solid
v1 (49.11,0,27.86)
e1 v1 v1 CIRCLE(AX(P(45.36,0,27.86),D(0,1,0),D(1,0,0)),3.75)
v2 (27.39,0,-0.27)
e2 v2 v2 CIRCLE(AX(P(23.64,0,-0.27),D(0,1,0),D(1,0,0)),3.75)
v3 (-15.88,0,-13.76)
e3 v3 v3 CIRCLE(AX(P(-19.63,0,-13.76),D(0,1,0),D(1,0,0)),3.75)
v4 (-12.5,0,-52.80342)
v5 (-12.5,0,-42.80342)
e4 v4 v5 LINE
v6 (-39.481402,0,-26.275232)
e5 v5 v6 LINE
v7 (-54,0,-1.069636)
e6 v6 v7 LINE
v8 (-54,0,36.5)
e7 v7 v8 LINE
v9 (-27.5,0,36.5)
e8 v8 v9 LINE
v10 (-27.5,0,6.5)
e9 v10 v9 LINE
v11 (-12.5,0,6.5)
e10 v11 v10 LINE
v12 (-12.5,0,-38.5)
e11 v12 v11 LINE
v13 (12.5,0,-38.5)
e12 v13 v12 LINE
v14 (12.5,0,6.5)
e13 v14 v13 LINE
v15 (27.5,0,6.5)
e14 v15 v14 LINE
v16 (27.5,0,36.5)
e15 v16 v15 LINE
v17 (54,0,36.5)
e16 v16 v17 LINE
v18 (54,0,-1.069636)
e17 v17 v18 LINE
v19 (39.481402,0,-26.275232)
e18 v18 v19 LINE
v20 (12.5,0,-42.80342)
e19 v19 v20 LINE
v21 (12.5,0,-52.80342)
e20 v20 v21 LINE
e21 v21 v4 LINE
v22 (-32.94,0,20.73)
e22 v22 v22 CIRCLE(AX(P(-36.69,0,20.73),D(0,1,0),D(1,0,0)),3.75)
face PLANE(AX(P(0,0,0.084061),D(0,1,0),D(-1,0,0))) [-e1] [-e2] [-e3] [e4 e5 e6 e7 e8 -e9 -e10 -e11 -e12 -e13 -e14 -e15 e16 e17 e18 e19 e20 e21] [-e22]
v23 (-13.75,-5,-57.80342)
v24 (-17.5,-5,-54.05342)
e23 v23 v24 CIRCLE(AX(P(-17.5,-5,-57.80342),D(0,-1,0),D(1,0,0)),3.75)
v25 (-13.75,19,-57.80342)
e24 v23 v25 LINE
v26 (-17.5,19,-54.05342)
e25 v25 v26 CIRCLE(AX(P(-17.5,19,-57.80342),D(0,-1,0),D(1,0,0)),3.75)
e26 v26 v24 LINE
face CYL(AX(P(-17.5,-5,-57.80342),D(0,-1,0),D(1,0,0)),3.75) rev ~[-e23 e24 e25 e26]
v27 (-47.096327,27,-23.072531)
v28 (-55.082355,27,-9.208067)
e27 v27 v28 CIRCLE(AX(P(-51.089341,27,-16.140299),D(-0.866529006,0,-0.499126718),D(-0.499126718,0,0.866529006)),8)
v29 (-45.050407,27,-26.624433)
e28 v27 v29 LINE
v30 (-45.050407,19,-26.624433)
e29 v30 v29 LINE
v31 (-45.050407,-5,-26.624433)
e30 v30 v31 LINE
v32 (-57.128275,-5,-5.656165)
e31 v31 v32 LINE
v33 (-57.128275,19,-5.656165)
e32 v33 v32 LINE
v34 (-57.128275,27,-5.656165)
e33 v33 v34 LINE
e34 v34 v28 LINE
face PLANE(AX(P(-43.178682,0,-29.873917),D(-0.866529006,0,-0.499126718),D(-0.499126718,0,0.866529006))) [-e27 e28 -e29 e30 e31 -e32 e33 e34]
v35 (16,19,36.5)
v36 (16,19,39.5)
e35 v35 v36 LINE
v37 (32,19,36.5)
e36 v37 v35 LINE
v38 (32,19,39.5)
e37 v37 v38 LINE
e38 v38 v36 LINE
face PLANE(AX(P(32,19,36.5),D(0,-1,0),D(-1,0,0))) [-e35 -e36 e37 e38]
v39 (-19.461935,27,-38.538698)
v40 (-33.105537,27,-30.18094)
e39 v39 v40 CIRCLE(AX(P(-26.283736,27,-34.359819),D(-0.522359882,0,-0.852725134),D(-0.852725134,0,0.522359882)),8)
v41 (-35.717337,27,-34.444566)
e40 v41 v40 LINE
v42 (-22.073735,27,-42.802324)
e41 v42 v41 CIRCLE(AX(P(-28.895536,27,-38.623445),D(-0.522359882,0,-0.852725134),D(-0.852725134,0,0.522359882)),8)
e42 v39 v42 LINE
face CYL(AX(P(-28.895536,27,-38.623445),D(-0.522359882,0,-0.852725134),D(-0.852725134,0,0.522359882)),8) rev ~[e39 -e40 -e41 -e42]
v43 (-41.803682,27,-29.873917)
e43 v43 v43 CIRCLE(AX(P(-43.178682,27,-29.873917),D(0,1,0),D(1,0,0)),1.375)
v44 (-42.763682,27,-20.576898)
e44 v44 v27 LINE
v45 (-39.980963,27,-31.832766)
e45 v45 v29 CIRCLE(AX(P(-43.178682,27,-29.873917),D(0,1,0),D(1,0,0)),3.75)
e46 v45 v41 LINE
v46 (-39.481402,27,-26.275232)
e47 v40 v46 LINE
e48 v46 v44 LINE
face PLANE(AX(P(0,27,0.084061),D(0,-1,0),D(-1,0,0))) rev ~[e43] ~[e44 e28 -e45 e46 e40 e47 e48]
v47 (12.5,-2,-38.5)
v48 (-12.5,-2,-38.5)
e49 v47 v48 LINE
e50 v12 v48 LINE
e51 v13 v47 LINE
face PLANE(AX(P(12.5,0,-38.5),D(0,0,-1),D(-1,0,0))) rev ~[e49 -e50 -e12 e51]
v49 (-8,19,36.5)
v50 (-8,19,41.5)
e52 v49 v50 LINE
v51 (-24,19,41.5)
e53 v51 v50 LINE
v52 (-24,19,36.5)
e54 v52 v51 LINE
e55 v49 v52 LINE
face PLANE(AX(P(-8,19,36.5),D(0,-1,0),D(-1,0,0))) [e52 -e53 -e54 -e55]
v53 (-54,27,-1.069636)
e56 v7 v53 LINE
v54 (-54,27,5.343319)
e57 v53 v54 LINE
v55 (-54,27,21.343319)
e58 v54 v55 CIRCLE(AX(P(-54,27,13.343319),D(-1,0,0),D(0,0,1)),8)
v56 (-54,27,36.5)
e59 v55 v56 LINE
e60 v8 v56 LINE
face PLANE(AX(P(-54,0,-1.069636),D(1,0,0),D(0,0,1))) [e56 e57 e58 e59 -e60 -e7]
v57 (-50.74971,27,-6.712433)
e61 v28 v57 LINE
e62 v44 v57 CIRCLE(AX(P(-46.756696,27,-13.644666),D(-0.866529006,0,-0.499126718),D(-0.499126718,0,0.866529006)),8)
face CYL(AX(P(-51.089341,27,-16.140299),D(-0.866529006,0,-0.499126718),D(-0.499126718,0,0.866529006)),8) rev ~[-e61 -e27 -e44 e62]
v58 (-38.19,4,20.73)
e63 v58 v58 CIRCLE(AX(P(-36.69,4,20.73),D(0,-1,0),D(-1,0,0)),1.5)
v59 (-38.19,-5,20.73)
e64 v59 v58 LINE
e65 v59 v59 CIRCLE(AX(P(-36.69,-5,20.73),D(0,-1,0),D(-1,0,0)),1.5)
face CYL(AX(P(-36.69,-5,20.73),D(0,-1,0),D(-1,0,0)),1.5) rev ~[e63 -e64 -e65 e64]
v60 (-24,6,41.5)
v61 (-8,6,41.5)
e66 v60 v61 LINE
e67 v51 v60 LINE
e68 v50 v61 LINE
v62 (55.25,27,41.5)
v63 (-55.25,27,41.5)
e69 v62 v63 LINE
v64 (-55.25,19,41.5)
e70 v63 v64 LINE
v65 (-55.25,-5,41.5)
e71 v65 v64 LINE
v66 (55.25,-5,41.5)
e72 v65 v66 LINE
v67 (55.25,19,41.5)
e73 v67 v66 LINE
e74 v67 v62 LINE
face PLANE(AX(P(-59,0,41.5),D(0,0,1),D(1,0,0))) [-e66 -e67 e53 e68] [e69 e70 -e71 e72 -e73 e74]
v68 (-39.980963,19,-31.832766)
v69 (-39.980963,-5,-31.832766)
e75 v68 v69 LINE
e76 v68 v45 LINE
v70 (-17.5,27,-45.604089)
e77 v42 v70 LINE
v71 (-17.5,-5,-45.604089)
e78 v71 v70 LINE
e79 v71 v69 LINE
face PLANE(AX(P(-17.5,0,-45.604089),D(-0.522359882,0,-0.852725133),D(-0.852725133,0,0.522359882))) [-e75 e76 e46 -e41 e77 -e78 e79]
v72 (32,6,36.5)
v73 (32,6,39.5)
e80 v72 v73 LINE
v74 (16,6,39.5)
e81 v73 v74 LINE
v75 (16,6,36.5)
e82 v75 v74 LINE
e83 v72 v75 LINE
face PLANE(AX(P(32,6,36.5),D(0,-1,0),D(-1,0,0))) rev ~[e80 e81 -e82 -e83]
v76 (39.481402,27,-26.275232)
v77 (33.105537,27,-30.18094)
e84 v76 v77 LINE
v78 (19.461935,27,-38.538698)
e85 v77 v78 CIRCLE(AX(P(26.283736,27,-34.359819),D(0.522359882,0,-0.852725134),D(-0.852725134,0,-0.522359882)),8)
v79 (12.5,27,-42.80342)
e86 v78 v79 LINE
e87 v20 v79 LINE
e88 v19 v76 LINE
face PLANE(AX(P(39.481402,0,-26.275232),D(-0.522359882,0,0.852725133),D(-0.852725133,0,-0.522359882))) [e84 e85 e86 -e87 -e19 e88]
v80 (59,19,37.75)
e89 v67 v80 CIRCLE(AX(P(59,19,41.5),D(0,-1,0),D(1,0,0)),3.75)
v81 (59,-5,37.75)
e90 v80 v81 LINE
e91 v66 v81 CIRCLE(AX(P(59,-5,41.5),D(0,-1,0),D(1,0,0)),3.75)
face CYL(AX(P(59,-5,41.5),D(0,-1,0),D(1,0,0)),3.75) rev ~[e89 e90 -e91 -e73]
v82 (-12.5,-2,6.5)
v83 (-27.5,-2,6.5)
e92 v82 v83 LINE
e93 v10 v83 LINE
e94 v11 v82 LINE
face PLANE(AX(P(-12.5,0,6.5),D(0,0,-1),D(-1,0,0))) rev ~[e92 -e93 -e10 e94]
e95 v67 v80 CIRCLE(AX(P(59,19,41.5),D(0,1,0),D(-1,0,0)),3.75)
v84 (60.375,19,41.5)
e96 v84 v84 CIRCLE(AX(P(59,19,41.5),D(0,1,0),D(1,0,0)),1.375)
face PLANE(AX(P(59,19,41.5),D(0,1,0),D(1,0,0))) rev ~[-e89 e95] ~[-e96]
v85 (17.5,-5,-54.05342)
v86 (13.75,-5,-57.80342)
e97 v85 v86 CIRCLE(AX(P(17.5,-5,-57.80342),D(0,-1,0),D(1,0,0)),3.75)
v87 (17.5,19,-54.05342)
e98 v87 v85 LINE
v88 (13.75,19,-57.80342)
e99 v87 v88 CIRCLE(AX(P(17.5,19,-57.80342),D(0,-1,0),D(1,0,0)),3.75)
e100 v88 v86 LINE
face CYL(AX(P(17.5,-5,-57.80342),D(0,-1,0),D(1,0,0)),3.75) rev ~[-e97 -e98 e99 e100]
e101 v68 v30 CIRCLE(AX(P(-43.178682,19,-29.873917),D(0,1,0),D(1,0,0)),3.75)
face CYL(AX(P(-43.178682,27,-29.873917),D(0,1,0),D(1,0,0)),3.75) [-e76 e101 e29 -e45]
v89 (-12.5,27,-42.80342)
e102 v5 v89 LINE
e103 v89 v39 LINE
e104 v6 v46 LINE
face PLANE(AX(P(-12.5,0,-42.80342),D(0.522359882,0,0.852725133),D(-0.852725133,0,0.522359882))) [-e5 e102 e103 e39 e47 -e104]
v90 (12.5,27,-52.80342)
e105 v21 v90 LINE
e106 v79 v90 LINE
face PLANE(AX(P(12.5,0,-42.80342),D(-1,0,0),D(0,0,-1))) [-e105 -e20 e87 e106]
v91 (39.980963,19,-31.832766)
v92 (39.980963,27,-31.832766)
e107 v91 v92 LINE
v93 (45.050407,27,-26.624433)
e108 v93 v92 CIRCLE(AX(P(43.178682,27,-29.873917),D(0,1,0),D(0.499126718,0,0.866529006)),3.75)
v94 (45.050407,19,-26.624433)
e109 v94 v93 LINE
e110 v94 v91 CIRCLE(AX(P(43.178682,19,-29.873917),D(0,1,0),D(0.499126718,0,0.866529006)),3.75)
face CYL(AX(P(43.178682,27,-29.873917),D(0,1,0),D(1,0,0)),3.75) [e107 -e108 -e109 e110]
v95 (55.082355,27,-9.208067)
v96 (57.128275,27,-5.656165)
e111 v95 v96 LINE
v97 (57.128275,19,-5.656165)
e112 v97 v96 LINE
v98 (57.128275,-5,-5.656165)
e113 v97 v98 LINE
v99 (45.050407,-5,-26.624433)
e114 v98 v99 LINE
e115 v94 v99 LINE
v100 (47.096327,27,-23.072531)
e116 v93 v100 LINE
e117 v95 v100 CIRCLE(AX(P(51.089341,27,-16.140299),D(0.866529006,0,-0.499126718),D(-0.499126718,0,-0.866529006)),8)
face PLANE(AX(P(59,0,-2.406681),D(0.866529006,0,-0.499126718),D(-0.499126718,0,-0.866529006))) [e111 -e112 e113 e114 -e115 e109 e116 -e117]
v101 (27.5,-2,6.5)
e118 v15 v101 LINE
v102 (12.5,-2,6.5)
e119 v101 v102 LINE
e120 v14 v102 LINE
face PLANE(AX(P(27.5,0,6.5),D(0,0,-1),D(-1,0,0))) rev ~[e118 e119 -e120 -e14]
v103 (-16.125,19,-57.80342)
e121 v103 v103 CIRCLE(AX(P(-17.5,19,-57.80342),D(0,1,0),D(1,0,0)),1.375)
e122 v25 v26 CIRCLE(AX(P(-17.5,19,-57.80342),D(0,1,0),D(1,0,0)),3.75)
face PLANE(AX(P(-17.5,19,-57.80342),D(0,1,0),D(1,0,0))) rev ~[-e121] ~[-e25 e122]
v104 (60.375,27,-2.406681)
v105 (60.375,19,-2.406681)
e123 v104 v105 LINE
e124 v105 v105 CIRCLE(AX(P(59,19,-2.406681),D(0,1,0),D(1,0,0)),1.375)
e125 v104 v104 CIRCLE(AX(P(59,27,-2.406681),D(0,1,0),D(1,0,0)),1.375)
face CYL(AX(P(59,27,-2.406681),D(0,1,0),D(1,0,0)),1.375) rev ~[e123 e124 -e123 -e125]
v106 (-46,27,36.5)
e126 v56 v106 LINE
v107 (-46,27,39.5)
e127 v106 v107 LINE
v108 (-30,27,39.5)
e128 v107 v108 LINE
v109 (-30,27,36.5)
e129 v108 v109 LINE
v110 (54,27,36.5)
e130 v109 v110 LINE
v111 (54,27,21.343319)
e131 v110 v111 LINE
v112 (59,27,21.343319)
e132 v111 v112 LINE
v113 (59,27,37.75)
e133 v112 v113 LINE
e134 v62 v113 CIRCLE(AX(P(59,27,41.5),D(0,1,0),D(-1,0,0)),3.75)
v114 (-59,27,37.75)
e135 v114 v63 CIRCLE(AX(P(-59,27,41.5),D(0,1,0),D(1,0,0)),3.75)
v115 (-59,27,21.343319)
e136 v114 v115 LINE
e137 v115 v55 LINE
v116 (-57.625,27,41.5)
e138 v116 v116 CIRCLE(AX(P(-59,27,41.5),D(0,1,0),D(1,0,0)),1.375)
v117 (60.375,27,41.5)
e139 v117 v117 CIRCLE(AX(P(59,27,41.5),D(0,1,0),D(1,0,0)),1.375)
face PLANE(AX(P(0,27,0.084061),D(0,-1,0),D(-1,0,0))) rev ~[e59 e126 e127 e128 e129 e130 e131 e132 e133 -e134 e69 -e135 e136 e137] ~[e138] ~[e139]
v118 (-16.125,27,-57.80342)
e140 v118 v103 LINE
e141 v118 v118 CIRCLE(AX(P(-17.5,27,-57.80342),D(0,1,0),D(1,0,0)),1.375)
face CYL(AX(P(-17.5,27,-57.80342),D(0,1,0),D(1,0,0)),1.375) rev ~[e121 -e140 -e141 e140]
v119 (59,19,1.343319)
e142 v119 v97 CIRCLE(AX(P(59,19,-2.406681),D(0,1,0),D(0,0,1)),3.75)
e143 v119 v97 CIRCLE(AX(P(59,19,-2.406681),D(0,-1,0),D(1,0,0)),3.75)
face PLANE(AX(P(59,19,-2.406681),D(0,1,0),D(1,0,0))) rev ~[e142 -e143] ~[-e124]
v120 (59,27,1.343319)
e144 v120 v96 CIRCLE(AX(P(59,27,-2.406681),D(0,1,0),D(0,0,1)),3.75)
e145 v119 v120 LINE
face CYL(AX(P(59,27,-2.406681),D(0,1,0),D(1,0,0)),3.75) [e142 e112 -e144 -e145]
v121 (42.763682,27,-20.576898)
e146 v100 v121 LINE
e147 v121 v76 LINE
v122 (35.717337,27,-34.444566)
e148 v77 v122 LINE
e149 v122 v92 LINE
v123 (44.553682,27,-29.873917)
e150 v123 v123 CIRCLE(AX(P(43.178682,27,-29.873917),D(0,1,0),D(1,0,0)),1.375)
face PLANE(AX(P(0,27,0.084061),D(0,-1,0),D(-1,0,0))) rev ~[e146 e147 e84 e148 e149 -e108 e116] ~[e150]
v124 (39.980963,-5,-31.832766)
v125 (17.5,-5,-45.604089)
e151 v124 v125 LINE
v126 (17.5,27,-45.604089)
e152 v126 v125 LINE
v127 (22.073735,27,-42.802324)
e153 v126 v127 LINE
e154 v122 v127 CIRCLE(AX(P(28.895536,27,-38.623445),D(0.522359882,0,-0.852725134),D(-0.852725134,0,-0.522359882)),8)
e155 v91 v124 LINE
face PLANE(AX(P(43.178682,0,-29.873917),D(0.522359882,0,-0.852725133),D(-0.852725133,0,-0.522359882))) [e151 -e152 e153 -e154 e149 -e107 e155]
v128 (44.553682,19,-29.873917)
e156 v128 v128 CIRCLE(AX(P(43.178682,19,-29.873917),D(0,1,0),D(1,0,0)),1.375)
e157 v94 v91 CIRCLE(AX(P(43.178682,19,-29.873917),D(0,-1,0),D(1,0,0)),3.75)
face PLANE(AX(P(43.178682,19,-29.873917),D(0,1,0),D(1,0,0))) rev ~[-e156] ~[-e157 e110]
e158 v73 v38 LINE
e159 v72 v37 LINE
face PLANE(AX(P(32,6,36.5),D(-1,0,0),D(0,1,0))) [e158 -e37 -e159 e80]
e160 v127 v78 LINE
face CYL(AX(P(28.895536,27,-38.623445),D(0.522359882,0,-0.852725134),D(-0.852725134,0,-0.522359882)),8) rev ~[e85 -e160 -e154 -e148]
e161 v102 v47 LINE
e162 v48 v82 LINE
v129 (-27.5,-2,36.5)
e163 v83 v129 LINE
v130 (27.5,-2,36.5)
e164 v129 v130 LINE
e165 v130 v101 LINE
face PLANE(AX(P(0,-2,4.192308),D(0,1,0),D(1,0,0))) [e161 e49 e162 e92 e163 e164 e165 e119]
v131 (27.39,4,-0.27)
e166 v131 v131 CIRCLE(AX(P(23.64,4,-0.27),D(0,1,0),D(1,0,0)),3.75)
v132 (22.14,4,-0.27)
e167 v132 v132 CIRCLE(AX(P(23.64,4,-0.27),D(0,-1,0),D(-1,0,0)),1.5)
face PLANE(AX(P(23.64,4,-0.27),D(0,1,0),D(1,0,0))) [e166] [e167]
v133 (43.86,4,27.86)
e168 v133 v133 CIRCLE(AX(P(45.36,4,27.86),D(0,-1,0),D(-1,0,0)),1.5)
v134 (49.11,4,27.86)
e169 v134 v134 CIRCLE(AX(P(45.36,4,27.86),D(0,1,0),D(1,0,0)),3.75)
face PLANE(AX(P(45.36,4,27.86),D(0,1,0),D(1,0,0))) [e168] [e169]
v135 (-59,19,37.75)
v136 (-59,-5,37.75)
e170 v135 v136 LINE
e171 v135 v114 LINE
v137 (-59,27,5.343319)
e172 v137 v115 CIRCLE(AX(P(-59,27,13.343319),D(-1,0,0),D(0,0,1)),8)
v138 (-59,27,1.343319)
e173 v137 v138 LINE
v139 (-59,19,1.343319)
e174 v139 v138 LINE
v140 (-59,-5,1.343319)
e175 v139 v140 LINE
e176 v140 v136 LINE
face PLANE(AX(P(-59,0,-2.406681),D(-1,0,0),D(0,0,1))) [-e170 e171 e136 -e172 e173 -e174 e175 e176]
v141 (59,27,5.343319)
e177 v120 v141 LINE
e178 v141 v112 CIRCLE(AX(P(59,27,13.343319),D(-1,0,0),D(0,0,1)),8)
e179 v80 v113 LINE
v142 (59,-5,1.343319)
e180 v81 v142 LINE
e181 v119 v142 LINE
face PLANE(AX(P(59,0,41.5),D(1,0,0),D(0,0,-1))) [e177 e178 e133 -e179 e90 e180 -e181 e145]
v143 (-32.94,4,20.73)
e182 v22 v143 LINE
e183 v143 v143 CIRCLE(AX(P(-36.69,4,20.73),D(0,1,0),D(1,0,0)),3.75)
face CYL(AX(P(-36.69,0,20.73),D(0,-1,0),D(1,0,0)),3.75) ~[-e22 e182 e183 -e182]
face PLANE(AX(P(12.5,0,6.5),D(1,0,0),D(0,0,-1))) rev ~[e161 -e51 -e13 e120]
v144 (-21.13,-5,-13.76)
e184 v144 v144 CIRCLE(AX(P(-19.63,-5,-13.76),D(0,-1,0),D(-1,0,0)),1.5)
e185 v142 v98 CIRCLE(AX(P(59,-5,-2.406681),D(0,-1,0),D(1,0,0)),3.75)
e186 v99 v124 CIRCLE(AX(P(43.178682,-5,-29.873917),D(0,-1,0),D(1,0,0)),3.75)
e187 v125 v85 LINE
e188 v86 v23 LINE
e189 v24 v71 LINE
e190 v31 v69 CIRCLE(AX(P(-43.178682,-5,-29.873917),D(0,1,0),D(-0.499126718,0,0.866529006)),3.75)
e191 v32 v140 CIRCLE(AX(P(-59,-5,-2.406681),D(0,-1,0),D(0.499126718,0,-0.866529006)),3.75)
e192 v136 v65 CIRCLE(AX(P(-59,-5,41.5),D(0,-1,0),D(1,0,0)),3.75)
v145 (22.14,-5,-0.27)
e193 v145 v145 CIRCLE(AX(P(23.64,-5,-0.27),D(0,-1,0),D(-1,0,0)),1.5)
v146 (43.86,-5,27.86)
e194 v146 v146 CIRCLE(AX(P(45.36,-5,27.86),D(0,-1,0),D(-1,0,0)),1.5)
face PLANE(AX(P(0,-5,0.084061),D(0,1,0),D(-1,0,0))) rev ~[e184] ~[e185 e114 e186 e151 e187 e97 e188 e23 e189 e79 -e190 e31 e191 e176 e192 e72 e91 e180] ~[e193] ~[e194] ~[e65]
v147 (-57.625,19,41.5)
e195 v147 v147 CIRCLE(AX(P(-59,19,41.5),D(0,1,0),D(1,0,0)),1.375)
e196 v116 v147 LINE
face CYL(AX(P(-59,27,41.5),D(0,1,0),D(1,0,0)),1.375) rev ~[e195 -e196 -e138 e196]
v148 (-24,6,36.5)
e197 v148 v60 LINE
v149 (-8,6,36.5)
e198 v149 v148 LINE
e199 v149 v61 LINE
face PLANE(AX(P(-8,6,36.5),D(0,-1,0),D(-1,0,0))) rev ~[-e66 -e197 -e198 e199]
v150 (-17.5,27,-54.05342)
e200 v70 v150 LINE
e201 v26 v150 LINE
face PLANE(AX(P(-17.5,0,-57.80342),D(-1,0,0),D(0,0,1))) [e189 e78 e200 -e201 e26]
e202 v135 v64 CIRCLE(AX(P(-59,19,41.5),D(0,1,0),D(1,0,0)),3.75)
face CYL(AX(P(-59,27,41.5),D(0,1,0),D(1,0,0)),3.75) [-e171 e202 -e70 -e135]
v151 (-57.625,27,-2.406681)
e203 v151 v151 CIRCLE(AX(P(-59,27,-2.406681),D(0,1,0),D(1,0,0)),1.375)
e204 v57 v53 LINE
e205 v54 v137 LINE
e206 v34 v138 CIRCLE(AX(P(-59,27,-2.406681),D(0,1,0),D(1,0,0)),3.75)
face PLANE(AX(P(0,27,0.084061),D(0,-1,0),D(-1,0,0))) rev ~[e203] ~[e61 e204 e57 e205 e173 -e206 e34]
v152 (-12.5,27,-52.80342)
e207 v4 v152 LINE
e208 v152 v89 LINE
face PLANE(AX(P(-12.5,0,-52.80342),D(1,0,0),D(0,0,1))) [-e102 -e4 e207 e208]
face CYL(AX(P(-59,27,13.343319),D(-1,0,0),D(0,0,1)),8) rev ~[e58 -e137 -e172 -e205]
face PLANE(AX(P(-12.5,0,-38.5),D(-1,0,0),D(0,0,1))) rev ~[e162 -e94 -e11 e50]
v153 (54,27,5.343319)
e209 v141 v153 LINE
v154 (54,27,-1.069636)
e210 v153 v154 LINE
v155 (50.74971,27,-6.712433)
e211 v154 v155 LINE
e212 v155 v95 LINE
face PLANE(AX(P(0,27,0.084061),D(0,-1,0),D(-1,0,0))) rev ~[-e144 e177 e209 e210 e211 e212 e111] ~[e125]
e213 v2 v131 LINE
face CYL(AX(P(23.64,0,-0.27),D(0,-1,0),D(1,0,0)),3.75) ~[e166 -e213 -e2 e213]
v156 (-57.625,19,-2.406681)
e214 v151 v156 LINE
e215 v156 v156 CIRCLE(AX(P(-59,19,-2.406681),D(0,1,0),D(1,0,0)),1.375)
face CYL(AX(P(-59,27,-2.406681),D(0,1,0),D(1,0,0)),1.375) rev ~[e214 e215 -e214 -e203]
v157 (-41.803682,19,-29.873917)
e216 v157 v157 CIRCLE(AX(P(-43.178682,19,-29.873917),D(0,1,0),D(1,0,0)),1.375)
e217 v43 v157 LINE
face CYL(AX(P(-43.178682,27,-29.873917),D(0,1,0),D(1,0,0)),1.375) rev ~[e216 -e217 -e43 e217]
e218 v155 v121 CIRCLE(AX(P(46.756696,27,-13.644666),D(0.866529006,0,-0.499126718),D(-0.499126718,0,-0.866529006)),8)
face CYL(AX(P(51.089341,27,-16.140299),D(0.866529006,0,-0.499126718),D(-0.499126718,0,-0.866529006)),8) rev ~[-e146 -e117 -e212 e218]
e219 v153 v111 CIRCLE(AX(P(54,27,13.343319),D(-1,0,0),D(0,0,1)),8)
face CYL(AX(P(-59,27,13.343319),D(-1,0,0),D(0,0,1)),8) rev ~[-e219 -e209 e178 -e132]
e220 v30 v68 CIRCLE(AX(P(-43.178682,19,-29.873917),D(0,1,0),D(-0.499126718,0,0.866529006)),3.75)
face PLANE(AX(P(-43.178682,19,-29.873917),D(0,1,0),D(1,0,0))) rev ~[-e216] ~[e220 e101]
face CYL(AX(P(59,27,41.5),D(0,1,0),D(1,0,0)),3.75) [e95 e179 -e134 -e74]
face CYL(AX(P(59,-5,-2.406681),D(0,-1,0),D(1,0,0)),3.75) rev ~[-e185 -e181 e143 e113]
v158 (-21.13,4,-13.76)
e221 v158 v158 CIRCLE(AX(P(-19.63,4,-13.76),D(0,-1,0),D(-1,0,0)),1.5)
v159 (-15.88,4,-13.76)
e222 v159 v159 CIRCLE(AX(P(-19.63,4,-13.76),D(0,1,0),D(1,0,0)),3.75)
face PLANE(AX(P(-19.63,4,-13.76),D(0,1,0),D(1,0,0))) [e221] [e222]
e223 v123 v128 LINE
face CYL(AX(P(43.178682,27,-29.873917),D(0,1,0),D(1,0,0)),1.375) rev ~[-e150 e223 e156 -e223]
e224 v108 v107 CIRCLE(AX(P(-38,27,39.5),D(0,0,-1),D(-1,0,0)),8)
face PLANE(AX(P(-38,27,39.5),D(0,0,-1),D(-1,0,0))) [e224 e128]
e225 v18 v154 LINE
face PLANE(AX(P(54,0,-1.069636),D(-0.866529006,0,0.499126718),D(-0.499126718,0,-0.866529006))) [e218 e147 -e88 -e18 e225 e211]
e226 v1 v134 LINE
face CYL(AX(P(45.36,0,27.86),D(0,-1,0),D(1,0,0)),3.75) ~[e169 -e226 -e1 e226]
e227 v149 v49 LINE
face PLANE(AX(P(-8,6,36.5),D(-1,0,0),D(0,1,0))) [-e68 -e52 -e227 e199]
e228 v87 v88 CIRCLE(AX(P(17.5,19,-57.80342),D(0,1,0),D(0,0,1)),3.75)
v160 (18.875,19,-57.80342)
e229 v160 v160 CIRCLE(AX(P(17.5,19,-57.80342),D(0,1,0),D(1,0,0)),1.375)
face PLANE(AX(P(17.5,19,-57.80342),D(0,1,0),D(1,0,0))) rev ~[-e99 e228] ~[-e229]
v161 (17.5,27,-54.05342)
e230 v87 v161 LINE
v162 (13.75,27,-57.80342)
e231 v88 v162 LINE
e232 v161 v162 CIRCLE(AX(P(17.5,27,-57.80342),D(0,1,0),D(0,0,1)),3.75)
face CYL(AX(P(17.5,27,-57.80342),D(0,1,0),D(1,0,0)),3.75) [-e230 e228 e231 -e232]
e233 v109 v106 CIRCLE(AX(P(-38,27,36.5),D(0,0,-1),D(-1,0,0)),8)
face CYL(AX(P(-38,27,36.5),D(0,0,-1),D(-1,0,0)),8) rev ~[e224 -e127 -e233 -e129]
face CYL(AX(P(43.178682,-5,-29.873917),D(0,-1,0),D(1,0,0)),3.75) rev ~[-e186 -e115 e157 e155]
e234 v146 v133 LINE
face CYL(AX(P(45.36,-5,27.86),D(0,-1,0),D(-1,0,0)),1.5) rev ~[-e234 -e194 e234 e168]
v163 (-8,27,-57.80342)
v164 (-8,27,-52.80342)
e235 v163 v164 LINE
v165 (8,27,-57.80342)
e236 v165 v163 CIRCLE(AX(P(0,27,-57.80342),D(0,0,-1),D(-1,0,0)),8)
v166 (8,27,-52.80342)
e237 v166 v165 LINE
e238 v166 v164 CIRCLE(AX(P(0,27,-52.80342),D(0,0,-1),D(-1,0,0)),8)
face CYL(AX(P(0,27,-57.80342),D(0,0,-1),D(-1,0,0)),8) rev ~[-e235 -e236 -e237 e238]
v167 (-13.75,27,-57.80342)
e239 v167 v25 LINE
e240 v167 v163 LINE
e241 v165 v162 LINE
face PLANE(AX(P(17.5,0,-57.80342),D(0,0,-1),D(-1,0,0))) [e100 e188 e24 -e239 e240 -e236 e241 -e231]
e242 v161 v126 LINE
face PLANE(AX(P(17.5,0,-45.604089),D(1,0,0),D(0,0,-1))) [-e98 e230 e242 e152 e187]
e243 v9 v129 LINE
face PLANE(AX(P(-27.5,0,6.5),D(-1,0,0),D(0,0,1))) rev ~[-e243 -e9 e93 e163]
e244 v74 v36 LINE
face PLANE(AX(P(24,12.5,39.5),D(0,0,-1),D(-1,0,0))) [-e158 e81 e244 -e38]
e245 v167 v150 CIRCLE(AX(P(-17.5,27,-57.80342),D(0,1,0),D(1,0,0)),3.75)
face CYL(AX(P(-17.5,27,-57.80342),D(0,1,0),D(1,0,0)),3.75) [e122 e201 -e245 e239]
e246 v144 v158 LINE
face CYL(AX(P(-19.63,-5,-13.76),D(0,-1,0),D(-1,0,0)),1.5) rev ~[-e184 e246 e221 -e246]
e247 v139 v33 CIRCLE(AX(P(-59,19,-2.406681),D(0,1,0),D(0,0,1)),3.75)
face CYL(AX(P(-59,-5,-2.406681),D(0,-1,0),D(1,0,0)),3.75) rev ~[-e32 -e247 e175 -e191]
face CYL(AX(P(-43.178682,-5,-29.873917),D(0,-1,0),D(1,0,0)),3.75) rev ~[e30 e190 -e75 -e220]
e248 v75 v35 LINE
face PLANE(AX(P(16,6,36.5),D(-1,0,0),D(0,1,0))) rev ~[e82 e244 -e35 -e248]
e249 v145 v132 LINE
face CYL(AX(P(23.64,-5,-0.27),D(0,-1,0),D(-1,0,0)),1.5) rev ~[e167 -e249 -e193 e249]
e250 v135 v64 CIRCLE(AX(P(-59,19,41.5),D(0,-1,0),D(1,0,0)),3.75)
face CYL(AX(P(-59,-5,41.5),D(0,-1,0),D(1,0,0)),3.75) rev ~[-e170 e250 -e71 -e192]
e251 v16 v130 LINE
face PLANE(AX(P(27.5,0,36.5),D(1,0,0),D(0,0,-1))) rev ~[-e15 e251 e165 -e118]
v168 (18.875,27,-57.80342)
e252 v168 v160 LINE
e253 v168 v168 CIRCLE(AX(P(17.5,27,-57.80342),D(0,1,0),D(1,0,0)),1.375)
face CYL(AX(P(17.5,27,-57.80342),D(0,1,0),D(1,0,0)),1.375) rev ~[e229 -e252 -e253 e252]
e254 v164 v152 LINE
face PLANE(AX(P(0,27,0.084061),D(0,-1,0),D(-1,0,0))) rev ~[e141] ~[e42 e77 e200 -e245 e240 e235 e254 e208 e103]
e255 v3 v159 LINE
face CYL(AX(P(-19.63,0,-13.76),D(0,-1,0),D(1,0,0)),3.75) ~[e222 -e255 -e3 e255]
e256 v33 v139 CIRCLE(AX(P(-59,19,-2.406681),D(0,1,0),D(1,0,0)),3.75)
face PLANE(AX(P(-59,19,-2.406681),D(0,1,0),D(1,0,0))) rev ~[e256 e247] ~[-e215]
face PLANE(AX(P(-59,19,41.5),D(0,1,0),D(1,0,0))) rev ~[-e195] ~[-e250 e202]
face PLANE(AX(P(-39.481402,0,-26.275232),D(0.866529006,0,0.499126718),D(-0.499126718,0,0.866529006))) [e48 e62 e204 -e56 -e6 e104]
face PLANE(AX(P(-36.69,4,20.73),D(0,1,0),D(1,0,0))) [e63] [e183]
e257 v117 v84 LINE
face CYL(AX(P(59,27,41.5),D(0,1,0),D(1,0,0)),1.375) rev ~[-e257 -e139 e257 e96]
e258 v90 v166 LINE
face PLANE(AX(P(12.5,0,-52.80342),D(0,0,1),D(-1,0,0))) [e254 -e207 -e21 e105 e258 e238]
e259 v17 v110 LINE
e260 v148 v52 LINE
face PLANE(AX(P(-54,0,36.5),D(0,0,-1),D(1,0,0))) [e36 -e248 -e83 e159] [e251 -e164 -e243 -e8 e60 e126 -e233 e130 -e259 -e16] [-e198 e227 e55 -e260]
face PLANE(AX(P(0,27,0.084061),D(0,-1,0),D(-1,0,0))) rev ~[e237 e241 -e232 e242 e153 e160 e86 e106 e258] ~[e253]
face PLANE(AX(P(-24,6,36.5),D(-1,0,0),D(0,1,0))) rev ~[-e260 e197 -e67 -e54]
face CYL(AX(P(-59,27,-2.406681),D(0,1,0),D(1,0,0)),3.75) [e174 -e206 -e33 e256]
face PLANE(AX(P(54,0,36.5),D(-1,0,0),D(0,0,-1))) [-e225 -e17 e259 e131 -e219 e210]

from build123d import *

# Parameters (mm, degrees)
BOSS_EXTRUDE2_DEPTH = 27
BOSS_EXTRUDE3_DEPTH = 5
SKETCH6_R           = 3.75
BOSS_EXTRUDE8_DEPTH = 4
SKETCH3_R           = 1.5
CUT_EXTRUDE2_DEPTH  = 33
SKETCH7_R           = 3.75
BOSS_EXTRUDE9_DEPTH = 8
SKETCH8_R           = 3.75
CUT_EXTRUDE4_DEPTH  = 24
SKETCH9_R           = 1.375
CUT_EXTRUDE5_DEPTH  = 33
CUT_EXTRUDE6_DEPTH  = 2
SKETCH13_R          = 8
CUT_EXTRUDE8_DEPTH  = 122.75
CUT_EXTRUDE9_REACH  = 131.287
SKETCH14_R          = 8
CUT_EXTRUDE11_REACH = 105.053
SKETCH16_R          = 8
CUT_EXTRUDE12_REACH = 131.287
SKETCH17_R          = 8
CUT_EXTRUDE13_REACH = 121.393
SKETCH19_R          = 8
CUT_EXTRUDE14_REACH = 121.393
SKETCH20_R          = 8
SKETCH21_R          = 8
SKETCH21_W          = 16
SKETCH21_H          = 13
CUT_EXTRUDE15_DEPTH = 3
SKETCH22_W          = 16
SKETCH22_H          = 13
CUT_EXTRUDE16_DEPTH = 9.75


with BuildPart() as part:
    # Sketch1 → Boss-Extrude2 (new body)
    with BuildSketch(Plane(origin=(0, 0, 0), x_dir=(1, 0, 0), z_dir=(0, 1, 0))):
        Polygon((-43.178681761, 29.873916914), (-17.5, 45.604089113), (-17.5, 57.803420417), (17.5, 57.803420417), (17.5, 45.604089113), (43.178681761, 29.873916914), (59, 2.406681305), (59, -41.5), (-59, -41.5), (-59, 2.406681305), align=None)
        Polygon((39.481402229, 26.275231503), (12.5, 42.803420417), (12.5, 52.803420417), (-12.5, 52.803420417), (-12.5, 42.803420417), (-39.481402229, 26.275231503), (-54, 1.069636136), (-54, -36.5), (54, -36.5), (54, 1.069636136), align=None, mode=Mode.SUBTRACT)
    extrude(amount=BOSS_EXTRUDE2_DEPTH)

    # Sketch2 → Boss-Extrude3 (add)
    with BuildSketch(Plane.XZ):
        Polygon((17.5, -57.803420417), (-17.5, -57.803420417), (-17.5, -45.604089113), (-43.178681761, -29.873916914), (-59, -2.406681305), (-59, 41.5), (59, 41.5), (59, -2.406681305), (43.178681761, -29.873916914), (17.5, -45.604089113), align=None)
    extrude(amount=BOSS_EXTRUDE3_DEPTH)

    # Sketch6 → Boss-Extrude8 (add)
    with BuildSketch(Plane(origin=(0, 0, 0), x_dir=(1, 0, 0), z_dir=(0, 1, 0))):
        with Locations((-19.63, 13.76)):
            Circle(SKETCH6_R)
        with Locations((-36.69, -20.73)):
            Circle(SKETCH6_R)
        with Locations((23.64, 0.27)):
            Circle(SKETCH6_R)
        with Locations((45.36, -27.86)):
            Circle(SKETCH6_R)
    extrude(amount=BOSS_EXTRUDE8_DEPTH)

    # Sketch3 → Cut-Extrude2 (cut, through all)
    with BuildSketch(Plane(origin=(0, -5, 0), x_dir=(-1, 0, 0), z_dir=(0, -1, 0))):
        with Locations((-45.36, -27.86)):
            Circle(SKETCH3_R)
        with Locations((-23.64, 0.27)):
            Circle(SKETCH3_R)
        with Locations((19.63, 13.76)):
            Circle(SKETCH3_R)
        with Locations((36.69, -20.73)):
            Circle(SKETCH3_R)
    extrude(amount=-CUT_EXTRUDE2_DEPTH, mode=Mode.SUBTRACT)

    # Sketch7 → Boss-Extrude9 (add)
    with BuildSketch(Plane(origin=(0, 27, 0), x_dir=(1, 0, 0), z_dir=(0, 1, 0))):
        with Locations((-59, -41.5)):
            Circle(SKETCH7_R)
        with Locations((-59, 2.406681305)):
            Circle(SKETCH7_R)
        with Locations((-43.178681761, 29.873916914)):
            Circle(SKETCH7_R)
        with Locations((-17.5, 57.803420417)):
            Circle(SKETCH7_R)
        with Locations((17.5, 57.803420417)):
            Circle(SKETCH7_R)
        with Locations((43.178681761, 29.873916914)):
            Circle(SKETCH7_R)
        with Locations((59, 2.406681305)):
            Circle(SKETCH7_R)
        with Locations((59, -41.5)):
            Circle(SKETCH7_R)
    extrude(amount=-BOSS_EXTRUDE9_DEPTH)

    # Sketch8 → Cut-Extrude4 (cut)
    with BuildSketch(Plane.XZ.offset(5)):
        with Locations((59, 41.5)):
            Circle(SKETCH8_R)
        with Locations((59, -2.406681305)):
            Circle(SKETCH8_R)
        with Locations((43.178681761, -29.873916914)):
            Circle(SKETCH8_R)
        with Locations((17.5, -57.803420417)):
            Circle(SKETCH8_R)
        with Locations((-17.5, -57.803420417)):
            Circle(SKETCH8_R)
        with Locations((-43.178681761, -29.873916914)):
            Circle(SKETCH8_R)
        with Locations((-59, -2.406681305)):
            Circle(SKETCH8_R)
        with Locations((-59, 41.5)):
            Circle(SKETCH8_R)
    extrude(amount=-CUT_EXTRUDE4_DEPTH, mode=Mode.SUBTRACT)

    # Sketch9 → Cut-Extrude5 (cut, through all)
    with BuildSketch(Plane(origin=(0, 27, 0), x_dir=(1, 0, 0), z_dir=(0, 1, 0))):
        with Locations((-59, -41.5)):
            Circle(SKETCH9_R)
        with Locations((-59, 2.406681305)):
            Circle(SKETCH9_R)
        with Locations((-17.5, 57.803420417)):
            Circle(SKETCH9_R)
        with Locations((43.178681761, 29.873916914)):
            Circle(SKETCH9_R)
        with Locations((17.5, 57.803420417)):
            Circle(SKETCH9_R)
        with Locations((-43.178681761, 29.873916914)):
            Circle(SKETCH9_R)
        with Locations((59, 2.406681305)):
            Circle(SKETCH9_R)
        with Locations((59, -41.5)):
            Circle(SKETCH9_R)
    extrude(amount=-CUT_EXTRUDE5_DEPTH, mode=Mode.SUBTRACT)

    # Sketch11 → Cut-Extrude6 (cut)
    with BuildSketch(Plane(origin=(0, 0, 0), x_dir=(1, 0, 0), z_dir=(0, 1, 0))):
        Polygon((27.5, -36.5), (27.5, -6.5), (12.5, -6.5), (12.5, 38.5), (-12.5, 38.5), (-12.5, -6.5), (-27.5, -6.5), (-27.5, -36.5), align=None)
    extrude(amount=-CUT_EXTRUDE6_DEPTH, mode=Mode.SUBTRACT)

    # Sketch13 → Cut-Extrude8 (cut, through all)
    with BuildSketch(Plane.ZY.offset(59)):
        with Locations((13.343318695, 27)):
            Circle(SKETCH13_R)
    extrude(amount=-CUT_EXTRUDE8_DEPTH, mode=Mode.SUBTRACT)

    # Sketch14 → Cut-Extrude9 (cut, up to next)
    with BuildSketch(Plane(origin=(-45.342387005, 0, -26.117529435), x_dir=(-0.499126718, 0, 0.866529006), z_dir=(-0.866529006, 0, -0.499126718)), mode=Mode.PRIVATE) as cut_extrude9_sk1:
        with Locations((11.514017709, 27)):
            Circle(SKETCH14_R)
    cut_extrude9_tool1 = extrude(cut_extrude9_sk1.sketch, amount=-CUT_EXTRUDE9_REACH, mode=Mode.PRIVATE) & part.part
    add(cut_extrude9_tool1.solids().sort_by_distance((-51.089341, 27, -16.140299))[0], mode=Mode.SUBTRACT)

    # Sketch16 → Cut-Extrude11 (cut, up to next)
    with BuildSketch(Plane(origin=(0, 0, -57.803420417), x_dir=(-1, 0, 0), z_dir=(0, 0, -1)), mode=Mode.PRIVATE) as cut_extrude11_sk1:
        with Locations((0, 27)):
            Circle(SKETCH16_R)
    cut_extrude11_tool1 = extrude(cut_extrude11_sk1.sketch, amount=-CUT_EXTRUDE11_REACH, mode=Mode.PRIVATE) & part.part
    add(cut_extrude11_tool1.solids().sort_by_distance((0, 27, -57.80342))[0], mode=Mode.SUBTRACT)

    # Sketch17 → Cut-Extrude12 (cut, up to next)
    with BuildSketch(Plane(origin=(45.342387005, 0, -26.117529435), x_dir=(-0.499126718, 0, -0.866529006), z_dir=(0.866529006, 0, -0.499126718)), mode=Mode.PRIVATE) as cut_extrude12_sk1:
        with Locations((-11.514017709, 27)):
            Circle(SKETCH17_R)
    cut_extrude12_tool1 = extrude(cut_extrude12_sk1.sketch, amount=-CUT_EXTRUDE12_REACH, mode=Mode.PRIVATE) & part.part
    add(cut_extrude12_tool1.solids().sort_by_distance((51.089341, 27, -16.140299))[0], mode=Mode.SUBTRACT)

    # Sketch19 → Cut-Extrude13 (cut, up to next)
    with BuildSketch(Plane(origin=(-25.088449392, 0, -40.955578852), x_dir=(-0.852725133, 0, 0.522359882), z_dir=(-0.522359882, 0, -0.852725133)), mode=Mode.PRIVATE) as cut_extrude13_sk1:
        with Locations((4.464611438, 27)):
            Circle(SKETCH19_R)
    cut_extrude13_tool1 = extrude(cut_extrude13_sk1.sketch, amount=-CUT_EXTRUDE13_REACH, mode=Mode.PRIVATE) & part.part
    add(cut_extrude13_tool1.solids().sort_by_distance((-28.895536, 27, -38.623445))[0], mode=Mode.SUBTRACT)

    # Sketch20 → Cut-Extrude14 (cut, up to next)
    with BuildSketch(Plane(origin=(25.088449392, 0, -40.955578852), x_dir=(-0.852725133, 0, -0.522359882), z_dir=(0.522359882, 0, -0.852725133)), mode=Mode.PRIVATE) as cut_extrude14_sk1:
        with Locations((-4.464611438, 27)):
            Circle(SKETCH20_R)
    cut_extrude14_tool1 = extrude(cut_extrude14_sk1.sketch, amount=-CUT_EXTRUDE14_REACH, mode=Mode.PRIVATE) & part.part
    add(cut_extrude14_tool1.solids().sort_by_distance((28.895536, 27, -38.623445))[0], mode=Mode.SUBTRACT)

    # Sketch21 → Cut-Extrude15 (cut)
    with BuildSketch(Plane(origin=(0, 0, 36.5), x_dir=(-1, 0, 0), z_dir=(0, 0, -1))):
        with Locations((38, 27)):
            Circle(SKETCH21_R)
        with Locations((-24, 12.5)):
            Rectangle(SKETCH21_W, SKETCH21_H)
    extrude(amount=-CUT_EXTRUDE15_DEPTH, mode=Mode.SUBTRACT)

    # Sketch22 → Cut-Extrude16 (cut, through all)
    with BuildSketch(Plane(origin=(0, 0, 36.5), x_dir=(-1, 0, 0), z_dir=(0, 0, -1))):
        with Locations((16, 12.5)):
            Rectangle(SKETCH22_W, SKETCH22_H)
    extrude(amount=-CUT_EXTRUDE16_DEPTH, mode=Mode.SUBTRACT)


solid = part.part
